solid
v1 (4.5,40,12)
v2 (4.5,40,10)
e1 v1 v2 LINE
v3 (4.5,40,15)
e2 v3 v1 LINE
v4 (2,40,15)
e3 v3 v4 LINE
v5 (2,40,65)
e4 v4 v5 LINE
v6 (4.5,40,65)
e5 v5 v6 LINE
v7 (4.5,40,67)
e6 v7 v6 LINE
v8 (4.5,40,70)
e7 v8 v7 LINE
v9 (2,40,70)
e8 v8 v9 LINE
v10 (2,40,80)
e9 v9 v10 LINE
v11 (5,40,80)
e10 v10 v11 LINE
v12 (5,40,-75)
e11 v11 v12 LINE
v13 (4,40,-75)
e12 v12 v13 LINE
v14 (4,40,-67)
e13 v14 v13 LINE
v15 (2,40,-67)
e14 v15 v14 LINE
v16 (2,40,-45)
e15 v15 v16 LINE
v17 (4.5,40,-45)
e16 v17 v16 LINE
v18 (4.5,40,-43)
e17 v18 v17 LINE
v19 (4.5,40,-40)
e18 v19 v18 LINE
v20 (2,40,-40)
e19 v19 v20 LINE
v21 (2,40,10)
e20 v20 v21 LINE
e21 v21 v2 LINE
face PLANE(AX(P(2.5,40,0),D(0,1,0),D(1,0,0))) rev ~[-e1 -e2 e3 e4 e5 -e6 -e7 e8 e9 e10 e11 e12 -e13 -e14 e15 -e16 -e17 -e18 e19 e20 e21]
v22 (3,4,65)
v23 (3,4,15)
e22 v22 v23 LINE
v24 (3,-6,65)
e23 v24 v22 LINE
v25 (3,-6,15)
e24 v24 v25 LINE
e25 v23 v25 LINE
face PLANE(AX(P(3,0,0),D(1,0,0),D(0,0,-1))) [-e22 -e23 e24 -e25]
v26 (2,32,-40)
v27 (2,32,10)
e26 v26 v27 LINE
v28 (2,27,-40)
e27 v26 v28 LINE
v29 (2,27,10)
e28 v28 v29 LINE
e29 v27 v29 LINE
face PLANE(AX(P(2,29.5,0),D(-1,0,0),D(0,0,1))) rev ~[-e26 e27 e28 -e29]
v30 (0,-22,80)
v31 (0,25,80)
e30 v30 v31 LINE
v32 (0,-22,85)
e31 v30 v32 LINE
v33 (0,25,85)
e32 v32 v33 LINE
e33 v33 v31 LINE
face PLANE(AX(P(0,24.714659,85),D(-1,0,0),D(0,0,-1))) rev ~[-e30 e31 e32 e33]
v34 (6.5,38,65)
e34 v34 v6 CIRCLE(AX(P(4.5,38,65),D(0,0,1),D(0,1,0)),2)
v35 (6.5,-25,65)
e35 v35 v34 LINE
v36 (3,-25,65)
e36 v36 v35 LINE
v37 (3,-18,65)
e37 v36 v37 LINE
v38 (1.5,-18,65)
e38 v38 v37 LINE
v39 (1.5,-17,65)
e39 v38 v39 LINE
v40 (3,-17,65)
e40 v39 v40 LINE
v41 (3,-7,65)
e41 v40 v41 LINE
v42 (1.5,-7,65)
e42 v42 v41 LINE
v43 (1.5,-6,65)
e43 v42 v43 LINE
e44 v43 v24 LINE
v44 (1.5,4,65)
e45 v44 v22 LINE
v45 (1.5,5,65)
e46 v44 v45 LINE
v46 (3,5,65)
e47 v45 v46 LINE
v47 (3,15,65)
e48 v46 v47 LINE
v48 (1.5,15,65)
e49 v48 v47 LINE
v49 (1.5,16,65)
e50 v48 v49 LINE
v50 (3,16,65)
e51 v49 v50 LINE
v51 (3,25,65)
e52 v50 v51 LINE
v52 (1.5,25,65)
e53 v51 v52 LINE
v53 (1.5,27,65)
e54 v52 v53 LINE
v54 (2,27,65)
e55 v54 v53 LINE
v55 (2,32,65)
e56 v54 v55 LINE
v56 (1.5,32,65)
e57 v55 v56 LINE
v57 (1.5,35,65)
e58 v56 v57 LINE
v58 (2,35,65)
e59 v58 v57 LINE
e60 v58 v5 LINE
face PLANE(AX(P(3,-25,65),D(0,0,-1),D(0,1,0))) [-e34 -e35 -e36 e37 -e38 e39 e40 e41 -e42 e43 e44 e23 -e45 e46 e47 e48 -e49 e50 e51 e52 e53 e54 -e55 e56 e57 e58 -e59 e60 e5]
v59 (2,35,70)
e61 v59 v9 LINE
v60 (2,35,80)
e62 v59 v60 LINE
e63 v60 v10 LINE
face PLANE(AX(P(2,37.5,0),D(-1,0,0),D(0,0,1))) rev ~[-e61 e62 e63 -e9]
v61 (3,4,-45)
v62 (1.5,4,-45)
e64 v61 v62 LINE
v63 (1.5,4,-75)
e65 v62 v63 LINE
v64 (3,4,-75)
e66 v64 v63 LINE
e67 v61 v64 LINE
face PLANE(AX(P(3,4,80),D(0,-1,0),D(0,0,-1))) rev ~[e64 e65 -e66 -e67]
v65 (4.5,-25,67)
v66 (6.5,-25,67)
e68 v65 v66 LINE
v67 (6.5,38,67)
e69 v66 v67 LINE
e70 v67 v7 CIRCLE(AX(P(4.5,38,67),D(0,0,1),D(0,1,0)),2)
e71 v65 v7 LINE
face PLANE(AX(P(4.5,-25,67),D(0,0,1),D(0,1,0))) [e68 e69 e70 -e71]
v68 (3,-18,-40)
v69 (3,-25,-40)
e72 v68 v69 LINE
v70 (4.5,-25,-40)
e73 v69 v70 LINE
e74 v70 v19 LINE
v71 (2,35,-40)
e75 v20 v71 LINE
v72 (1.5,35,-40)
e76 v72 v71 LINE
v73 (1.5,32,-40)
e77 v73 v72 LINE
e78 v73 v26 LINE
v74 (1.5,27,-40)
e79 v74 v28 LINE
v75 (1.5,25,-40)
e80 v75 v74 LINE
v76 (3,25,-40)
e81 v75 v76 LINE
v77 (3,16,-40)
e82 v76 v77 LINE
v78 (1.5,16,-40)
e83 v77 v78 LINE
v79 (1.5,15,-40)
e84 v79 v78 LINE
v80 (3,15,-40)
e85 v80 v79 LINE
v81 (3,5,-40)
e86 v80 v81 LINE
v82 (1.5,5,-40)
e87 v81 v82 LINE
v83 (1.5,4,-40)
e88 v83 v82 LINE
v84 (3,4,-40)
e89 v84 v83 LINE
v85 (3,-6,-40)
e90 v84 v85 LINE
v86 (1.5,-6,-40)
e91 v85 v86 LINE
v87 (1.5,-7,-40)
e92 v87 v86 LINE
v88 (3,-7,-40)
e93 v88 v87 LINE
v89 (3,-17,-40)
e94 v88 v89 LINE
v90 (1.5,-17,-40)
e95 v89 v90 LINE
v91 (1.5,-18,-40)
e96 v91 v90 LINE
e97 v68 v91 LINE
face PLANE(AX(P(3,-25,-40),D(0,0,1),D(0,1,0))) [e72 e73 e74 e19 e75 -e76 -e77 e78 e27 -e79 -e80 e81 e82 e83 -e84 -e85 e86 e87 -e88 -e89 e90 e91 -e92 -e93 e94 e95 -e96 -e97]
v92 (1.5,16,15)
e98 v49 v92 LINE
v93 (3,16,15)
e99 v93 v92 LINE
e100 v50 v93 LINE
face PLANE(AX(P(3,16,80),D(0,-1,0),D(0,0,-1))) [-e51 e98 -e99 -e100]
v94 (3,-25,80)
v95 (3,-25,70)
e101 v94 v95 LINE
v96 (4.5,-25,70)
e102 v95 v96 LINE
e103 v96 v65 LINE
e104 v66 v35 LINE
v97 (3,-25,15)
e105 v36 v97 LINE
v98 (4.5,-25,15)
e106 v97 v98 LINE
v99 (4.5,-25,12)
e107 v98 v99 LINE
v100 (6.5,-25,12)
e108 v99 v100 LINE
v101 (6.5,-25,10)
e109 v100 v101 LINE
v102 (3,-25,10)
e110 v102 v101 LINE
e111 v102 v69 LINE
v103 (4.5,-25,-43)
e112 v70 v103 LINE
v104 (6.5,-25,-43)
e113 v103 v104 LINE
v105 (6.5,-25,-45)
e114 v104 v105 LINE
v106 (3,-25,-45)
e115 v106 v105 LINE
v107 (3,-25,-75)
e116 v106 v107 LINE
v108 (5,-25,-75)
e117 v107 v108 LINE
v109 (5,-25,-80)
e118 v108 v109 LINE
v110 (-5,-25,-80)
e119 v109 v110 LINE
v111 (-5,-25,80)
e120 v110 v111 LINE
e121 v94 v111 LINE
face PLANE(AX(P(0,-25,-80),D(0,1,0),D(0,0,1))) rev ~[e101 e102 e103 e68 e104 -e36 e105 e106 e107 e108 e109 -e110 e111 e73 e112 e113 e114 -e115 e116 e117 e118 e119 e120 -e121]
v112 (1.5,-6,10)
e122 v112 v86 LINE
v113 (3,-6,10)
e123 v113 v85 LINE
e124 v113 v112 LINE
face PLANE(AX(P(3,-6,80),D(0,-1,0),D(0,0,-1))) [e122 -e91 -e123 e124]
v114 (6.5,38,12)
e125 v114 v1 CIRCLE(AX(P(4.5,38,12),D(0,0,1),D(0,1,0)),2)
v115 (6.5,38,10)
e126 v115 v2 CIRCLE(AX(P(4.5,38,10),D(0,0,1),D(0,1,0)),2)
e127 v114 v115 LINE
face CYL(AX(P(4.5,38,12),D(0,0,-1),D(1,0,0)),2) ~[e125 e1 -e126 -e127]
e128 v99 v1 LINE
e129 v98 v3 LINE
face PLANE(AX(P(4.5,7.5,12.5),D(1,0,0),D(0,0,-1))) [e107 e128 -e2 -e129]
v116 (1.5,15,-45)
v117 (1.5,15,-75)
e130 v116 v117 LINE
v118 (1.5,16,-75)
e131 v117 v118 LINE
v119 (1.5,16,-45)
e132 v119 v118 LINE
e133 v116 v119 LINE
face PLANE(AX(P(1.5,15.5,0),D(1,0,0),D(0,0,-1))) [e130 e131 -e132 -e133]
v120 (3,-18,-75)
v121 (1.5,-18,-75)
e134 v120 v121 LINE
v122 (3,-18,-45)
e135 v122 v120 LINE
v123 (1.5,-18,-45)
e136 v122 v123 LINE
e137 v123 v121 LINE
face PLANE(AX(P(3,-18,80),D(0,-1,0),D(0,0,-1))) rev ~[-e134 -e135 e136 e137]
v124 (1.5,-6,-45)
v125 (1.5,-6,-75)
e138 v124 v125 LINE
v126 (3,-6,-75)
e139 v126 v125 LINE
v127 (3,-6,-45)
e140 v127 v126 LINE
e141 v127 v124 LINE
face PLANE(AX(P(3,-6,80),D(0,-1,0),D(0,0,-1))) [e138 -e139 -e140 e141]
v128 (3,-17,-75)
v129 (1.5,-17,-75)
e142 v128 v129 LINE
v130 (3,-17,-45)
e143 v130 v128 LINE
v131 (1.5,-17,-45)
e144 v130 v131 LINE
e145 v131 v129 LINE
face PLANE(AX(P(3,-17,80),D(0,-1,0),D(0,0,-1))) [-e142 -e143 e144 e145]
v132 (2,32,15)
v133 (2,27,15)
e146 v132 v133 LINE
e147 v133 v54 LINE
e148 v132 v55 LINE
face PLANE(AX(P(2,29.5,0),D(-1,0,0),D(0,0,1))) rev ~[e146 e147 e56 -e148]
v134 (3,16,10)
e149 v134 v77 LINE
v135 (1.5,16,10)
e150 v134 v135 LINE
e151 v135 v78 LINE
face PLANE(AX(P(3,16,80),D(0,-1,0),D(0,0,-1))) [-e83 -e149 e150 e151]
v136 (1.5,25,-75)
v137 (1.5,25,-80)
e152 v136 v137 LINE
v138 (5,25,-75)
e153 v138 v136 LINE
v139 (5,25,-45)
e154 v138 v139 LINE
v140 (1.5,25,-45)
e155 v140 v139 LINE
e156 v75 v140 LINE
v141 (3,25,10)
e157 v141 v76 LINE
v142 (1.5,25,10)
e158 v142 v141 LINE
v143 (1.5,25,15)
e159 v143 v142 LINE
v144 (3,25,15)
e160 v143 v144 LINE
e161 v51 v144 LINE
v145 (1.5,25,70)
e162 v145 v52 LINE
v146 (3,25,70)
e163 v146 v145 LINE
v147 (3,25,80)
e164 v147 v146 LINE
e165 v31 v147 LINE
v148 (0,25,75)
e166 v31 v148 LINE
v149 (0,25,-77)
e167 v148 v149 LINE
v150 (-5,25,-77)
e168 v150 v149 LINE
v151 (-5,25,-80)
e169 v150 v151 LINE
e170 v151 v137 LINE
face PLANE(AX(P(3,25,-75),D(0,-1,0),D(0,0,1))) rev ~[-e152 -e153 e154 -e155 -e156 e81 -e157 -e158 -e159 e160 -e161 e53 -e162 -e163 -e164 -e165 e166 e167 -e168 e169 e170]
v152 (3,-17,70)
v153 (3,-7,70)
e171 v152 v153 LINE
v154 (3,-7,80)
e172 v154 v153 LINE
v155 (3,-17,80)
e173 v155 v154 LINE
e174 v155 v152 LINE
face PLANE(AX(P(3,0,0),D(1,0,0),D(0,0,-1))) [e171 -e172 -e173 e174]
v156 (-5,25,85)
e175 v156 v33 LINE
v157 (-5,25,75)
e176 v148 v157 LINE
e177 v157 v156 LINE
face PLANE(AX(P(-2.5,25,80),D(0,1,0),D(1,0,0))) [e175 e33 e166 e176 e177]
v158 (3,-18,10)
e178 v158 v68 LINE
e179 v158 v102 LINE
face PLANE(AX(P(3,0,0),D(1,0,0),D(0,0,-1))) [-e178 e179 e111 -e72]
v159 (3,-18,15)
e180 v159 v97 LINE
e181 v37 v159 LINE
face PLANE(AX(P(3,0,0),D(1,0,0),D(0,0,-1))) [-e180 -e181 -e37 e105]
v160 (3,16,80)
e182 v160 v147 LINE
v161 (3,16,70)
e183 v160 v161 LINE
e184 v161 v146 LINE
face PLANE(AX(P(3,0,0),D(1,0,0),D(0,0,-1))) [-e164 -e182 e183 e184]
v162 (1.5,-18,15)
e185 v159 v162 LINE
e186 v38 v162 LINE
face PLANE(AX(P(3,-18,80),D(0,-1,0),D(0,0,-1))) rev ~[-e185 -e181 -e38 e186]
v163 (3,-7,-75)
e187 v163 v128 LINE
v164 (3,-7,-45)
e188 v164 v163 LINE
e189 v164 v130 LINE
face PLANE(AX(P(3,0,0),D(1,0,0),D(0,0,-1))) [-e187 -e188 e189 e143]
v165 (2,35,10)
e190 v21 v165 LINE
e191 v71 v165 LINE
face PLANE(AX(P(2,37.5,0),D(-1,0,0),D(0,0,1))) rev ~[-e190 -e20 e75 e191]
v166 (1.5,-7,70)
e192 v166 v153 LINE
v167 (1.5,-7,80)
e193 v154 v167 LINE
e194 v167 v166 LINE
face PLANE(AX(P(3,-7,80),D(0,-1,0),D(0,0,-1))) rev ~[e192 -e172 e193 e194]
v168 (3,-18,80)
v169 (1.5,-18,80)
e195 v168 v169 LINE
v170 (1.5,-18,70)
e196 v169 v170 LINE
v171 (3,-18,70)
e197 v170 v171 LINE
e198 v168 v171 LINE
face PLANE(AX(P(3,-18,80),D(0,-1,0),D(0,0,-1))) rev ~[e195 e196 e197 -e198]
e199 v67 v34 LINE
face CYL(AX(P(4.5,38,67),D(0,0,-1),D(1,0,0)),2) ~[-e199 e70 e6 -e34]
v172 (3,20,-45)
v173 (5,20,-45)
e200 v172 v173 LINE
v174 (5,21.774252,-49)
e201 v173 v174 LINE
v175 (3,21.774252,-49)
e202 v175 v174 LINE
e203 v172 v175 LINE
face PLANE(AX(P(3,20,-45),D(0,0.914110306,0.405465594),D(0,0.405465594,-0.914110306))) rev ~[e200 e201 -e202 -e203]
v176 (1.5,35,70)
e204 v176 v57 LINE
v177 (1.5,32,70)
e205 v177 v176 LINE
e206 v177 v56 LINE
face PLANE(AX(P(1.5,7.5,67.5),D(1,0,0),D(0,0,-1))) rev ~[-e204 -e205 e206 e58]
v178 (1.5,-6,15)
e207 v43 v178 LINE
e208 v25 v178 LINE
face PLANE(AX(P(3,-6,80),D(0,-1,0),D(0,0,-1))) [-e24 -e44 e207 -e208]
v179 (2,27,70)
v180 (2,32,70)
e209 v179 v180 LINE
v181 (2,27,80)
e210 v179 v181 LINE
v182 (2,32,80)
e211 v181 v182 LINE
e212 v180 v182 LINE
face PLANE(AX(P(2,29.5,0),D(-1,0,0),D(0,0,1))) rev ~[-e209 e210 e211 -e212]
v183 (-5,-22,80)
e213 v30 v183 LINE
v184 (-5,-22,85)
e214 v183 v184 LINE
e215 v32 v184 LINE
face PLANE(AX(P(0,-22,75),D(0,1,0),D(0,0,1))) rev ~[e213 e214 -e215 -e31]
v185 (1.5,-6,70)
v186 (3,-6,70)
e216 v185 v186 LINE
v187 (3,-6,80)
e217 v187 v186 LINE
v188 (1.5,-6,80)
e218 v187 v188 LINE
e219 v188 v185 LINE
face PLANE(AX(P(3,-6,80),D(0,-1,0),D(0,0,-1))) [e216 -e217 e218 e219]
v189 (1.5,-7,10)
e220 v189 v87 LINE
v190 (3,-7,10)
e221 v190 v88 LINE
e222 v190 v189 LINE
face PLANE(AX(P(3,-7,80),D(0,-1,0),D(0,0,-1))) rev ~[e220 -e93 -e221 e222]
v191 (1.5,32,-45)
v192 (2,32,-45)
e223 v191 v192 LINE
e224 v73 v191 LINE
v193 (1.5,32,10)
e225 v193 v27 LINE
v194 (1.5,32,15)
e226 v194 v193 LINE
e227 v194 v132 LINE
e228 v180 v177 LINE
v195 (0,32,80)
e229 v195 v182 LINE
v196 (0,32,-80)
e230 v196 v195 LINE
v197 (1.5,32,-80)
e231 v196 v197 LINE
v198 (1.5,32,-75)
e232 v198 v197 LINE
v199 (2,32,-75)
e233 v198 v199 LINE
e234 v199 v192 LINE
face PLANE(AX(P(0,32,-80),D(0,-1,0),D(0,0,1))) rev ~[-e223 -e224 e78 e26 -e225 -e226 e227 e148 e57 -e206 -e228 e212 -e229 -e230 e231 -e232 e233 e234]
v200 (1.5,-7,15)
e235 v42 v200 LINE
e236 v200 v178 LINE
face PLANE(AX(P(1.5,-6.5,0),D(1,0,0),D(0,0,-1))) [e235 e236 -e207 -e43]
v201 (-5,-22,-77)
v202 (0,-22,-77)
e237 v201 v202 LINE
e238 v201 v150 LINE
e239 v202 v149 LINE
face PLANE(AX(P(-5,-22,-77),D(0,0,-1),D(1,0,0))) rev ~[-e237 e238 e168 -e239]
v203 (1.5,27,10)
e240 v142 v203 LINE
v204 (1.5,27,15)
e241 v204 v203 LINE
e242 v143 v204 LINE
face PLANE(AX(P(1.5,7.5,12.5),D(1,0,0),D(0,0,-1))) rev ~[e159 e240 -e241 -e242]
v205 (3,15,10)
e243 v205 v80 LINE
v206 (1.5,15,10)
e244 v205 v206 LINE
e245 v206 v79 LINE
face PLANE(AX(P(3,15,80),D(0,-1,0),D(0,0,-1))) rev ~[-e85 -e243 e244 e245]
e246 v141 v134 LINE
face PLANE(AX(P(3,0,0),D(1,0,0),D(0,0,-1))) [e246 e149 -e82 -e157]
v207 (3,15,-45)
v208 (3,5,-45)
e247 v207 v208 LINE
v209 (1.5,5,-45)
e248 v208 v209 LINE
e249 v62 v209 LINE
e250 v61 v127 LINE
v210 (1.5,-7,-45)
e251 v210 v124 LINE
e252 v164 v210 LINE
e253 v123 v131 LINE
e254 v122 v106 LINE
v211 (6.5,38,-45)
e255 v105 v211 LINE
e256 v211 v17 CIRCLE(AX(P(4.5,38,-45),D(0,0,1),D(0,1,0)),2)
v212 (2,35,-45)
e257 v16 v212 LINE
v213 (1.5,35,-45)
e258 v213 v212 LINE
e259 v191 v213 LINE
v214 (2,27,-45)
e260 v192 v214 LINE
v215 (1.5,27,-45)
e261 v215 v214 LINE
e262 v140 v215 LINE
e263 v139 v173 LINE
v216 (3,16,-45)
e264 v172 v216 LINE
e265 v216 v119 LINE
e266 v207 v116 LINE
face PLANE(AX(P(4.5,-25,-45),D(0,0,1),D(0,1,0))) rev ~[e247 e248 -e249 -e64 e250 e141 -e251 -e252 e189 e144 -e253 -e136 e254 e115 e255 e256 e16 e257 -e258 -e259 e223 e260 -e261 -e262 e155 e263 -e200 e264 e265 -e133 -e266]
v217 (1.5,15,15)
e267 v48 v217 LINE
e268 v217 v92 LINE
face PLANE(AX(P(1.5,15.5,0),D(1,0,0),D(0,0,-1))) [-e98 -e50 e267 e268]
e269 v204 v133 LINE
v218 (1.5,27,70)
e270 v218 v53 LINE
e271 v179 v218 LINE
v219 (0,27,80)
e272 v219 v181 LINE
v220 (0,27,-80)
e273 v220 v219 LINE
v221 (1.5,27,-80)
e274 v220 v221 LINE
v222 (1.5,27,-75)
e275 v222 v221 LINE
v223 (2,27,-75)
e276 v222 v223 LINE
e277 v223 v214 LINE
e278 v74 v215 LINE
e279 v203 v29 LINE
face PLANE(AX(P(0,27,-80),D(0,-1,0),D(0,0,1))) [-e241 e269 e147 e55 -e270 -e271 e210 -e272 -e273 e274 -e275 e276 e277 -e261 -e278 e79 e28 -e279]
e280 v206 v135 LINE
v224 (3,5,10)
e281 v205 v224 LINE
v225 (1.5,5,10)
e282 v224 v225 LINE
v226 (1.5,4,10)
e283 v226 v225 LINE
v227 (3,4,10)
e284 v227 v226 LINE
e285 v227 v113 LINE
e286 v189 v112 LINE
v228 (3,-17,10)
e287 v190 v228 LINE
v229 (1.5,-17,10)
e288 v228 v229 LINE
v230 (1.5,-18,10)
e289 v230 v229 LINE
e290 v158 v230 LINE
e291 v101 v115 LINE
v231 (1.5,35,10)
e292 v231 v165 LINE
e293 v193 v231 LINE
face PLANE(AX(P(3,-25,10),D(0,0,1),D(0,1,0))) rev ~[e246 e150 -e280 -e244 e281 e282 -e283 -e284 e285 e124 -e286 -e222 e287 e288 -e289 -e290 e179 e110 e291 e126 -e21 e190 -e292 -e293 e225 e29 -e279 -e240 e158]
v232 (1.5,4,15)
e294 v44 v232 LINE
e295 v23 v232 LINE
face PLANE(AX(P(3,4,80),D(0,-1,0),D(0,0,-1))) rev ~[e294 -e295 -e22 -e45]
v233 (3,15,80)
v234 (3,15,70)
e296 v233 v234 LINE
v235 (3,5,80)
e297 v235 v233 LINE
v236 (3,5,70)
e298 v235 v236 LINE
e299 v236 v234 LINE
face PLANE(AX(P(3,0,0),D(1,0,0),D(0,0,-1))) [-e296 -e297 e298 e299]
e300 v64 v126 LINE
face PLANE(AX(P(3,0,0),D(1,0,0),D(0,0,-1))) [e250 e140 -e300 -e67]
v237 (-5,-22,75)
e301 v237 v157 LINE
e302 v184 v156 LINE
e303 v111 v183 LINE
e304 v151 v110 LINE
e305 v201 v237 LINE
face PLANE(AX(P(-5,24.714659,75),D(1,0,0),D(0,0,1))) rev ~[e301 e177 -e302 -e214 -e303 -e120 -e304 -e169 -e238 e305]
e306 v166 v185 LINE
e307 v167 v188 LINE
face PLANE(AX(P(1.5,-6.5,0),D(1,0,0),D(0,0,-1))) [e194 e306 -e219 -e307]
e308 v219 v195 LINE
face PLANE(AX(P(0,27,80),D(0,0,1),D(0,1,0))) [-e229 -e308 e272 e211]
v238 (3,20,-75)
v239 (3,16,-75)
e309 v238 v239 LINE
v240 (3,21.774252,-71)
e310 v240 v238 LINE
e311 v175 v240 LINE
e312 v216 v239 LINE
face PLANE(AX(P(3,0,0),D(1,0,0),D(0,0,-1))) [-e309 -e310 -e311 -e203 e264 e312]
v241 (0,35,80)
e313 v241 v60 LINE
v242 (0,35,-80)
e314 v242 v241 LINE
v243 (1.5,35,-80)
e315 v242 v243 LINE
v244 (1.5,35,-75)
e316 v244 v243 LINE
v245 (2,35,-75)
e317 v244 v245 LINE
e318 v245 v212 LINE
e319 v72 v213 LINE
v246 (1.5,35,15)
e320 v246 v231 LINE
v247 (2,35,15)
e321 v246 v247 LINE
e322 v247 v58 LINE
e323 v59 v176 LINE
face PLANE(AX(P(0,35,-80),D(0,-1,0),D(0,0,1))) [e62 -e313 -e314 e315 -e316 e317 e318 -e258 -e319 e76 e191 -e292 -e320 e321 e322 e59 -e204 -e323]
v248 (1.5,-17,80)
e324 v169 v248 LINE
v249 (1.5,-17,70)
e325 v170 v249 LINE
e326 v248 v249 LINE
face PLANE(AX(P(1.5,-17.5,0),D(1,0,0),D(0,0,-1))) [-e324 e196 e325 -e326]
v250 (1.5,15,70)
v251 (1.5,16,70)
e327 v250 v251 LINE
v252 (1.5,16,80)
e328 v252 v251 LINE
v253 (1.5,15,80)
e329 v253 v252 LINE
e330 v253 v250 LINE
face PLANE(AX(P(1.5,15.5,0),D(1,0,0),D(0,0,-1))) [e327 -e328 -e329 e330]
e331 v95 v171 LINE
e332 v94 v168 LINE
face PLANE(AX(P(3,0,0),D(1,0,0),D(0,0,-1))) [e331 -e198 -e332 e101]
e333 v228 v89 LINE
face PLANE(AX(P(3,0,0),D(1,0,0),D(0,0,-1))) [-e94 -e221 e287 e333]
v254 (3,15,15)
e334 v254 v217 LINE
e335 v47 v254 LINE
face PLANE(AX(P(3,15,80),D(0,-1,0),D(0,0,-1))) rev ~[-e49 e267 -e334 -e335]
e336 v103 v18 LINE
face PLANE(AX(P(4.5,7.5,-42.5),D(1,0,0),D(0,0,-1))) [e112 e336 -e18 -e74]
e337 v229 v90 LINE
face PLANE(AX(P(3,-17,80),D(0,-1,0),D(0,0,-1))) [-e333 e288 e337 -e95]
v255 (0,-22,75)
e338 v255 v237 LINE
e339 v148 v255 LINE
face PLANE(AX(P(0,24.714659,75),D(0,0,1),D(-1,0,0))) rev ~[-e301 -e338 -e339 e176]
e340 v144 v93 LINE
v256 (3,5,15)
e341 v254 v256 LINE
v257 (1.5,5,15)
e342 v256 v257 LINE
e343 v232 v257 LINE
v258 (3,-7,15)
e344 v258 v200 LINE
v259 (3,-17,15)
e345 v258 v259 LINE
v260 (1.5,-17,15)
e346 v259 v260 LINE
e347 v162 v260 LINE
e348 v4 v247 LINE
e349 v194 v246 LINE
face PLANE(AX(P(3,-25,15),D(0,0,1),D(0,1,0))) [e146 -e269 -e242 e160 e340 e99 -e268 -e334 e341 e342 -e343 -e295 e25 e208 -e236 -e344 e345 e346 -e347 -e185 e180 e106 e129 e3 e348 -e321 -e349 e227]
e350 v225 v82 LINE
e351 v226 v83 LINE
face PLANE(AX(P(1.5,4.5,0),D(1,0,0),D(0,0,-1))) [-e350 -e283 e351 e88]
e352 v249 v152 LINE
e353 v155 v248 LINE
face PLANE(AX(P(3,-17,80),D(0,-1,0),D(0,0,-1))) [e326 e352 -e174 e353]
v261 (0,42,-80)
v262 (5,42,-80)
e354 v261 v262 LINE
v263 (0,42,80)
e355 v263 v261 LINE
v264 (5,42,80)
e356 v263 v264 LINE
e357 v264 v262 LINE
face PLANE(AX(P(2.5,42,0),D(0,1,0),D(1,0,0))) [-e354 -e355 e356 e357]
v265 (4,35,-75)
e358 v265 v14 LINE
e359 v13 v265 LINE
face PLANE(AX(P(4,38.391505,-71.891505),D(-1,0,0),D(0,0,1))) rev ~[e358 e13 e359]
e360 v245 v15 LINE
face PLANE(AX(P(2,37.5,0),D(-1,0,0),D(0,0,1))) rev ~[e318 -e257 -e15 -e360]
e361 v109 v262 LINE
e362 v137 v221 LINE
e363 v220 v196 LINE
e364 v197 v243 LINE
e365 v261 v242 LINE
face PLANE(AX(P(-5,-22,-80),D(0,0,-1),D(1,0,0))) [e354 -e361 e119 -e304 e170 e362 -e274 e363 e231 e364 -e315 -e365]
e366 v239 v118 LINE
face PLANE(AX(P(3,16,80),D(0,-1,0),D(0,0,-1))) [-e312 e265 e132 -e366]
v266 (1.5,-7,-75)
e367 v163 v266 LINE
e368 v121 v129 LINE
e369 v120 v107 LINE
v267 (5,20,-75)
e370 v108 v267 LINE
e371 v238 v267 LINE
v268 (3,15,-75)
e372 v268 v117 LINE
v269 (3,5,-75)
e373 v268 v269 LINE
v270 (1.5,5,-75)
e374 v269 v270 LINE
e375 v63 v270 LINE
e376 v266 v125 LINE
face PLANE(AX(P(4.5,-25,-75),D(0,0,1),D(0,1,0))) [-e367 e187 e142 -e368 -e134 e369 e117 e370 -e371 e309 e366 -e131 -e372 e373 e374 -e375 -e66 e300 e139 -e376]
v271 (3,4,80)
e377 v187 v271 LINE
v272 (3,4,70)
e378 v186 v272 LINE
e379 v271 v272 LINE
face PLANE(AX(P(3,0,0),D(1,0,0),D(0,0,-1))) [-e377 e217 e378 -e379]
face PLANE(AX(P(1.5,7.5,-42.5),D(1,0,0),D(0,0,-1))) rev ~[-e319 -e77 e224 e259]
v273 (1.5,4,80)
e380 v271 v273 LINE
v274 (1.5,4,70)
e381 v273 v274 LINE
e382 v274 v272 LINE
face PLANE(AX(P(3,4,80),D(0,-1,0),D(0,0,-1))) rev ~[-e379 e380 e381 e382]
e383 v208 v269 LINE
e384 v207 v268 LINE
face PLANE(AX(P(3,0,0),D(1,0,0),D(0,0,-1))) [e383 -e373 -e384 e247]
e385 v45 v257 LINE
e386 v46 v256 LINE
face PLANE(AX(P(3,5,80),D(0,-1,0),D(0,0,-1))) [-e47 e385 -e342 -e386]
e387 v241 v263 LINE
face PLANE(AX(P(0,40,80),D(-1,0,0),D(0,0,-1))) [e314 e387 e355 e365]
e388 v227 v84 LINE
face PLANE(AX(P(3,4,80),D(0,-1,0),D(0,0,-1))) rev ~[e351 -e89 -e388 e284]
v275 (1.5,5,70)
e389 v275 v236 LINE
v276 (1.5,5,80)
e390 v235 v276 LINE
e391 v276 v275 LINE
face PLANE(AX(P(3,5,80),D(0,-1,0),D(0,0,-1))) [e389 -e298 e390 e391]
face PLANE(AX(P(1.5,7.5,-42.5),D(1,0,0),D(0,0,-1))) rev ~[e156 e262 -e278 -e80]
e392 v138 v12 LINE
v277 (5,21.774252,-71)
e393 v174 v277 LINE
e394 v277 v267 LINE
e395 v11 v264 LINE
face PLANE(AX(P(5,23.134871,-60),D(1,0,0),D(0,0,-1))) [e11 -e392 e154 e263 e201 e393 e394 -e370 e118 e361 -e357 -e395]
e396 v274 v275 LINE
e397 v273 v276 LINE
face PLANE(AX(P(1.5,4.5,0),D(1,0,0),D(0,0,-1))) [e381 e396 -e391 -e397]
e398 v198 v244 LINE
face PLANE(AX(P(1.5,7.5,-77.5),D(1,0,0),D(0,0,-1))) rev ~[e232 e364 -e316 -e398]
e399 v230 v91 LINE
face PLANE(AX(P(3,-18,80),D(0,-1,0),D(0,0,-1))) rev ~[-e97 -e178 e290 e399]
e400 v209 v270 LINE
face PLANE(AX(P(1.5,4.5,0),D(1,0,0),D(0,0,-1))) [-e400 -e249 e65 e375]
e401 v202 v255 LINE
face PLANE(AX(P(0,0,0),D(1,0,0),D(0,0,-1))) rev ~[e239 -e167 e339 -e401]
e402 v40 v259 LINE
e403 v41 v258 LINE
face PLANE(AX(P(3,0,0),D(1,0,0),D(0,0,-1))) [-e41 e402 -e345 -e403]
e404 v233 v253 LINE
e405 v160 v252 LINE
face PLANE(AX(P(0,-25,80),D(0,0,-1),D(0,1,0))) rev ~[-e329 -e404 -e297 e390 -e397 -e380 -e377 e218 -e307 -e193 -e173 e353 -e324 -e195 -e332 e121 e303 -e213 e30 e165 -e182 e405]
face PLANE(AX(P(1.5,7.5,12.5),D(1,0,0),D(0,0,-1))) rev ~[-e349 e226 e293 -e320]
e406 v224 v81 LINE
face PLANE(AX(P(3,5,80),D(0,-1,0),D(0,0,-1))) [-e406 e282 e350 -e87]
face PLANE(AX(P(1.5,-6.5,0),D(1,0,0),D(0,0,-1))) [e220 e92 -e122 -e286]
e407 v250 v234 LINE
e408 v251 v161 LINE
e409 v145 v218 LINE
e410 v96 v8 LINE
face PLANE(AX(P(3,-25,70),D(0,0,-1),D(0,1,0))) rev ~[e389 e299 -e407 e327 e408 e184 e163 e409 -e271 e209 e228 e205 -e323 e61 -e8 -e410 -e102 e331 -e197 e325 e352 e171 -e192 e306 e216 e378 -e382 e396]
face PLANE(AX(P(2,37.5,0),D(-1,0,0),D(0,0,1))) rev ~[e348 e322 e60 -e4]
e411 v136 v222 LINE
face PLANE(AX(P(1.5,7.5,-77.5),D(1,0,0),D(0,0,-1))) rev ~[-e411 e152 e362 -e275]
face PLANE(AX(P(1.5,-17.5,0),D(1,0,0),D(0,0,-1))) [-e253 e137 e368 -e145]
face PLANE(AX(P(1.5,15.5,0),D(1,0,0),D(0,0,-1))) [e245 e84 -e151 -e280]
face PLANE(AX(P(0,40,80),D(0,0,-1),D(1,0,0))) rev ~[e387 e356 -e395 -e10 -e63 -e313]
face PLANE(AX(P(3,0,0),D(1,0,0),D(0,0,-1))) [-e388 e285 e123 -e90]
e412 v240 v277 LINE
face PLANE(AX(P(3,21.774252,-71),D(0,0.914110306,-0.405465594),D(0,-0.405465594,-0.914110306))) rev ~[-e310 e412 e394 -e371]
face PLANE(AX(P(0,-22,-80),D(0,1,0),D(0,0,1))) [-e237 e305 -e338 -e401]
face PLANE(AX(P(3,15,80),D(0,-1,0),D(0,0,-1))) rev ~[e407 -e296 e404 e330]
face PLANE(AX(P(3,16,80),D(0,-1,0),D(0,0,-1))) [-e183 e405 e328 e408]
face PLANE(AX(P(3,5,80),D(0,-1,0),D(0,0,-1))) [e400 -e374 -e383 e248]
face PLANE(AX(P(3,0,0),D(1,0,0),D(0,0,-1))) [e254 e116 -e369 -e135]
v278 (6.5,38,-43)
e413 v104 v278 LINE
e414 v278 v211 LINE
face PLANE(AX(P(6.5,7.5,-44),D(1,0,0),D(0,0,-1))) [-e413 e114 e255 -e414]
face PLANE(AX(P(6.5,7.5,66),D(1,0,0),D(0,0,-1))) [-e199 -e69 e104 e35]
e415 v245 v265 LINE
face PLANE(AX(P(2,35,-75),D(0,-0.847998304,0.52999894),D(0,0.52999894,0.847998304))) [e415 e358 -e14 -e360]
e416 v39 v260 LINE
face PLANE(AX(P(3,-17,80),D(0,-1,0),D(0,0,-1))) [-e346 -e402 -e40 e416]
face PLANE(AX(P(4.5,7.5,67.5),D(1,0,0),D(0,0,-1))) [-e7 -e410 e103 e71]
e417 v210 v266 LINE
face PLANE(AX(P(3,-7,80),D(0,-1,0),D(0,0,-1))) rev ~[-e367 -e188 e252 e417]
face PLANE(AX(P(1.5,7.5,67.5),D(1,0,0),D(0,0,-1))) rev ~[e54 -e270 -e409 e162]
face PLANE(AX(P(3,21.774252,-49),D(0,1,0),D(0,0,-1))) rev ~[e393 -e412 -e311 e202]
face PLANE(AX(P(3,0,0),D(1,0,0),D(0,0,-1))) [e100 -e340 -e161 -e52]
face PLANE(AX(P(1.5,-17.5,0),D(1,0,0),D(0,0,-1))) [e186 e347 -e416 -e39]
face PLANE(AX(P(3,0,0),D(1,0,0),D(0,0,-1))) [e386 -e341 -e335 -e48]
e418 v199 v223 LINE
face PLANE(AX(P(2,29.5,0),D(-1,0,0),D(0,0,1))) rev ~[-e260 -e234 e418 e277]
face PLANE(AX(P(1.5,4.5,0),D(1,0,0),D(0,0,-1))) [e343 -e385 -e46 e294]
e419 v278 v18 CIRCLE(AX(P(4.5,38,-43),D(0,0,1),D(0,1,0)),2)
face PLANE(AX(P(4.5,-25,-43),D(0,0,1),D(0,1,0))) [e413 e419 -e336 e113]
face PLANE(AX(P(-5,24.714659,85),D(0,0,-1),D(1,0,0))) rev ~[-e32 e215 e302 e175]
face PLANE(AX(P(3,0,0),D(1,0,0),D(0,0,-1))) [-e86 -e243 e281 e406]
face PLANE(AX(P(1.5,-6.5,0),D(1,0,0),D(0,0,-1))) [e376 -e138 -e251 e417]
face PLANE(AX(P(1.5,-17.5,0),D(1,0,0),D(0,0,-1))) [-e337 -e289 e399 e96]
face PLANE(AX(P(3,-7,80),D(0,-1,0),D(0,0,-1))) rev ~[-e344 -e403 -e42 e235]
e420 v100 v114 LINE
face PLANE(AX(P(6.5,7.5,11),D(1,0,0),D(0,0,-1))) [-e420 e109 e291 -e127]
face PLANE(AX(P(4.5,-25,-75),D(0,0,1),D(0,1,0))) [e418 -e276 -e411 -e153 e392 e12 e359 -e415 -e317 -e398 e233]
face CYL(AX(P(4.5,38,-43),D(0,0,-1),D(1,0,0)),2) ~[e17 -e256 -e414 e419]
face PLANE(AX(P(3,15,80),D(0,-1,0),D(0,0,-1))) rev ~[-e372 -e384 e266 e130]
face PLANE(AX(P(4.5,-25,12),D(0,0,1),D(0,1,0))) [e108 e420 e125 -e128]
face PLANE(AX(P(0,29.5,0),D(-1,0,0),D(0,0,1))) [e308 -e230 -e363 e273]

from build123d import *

# Parameters (mm, degrees)
SKETCH1_W            = 160
SKETCH1_H            = 50
BOSS_EXTRUDE1_DEPTH  = 3
SKETCH2_W            = 160
SKETCH2_H            = 1
CUT_EXTRUDE1_DEPTH   = 1.5
SKETCH3_W            = 5
SKETCH3_H            = 65
BOSS_EXTRUDE2_DEPTH  = 1.5
SKETCH4_W            = 2
SKETCH4_H            = 65
BOSS_EXTRUDE3_DEPTH  = 2
FILLET1_R            = 2
SKETCH5_W            = 160
SKETCH5_H            = 5
BOSS_EXTRUDE4_DEPTH  = 2
SKETCH6_W            = 5
SKETCH6_H            = 160
BOSS_EXTRUDE5_DEPTH  = 2
SKETCH9_W            = 5
SKETCH9_H            = 65
BOSS_EXTRUDE8_DEPTH  = 0.5
SKETCH10_W           = 160
SKETCH10_H           = 3
BOSS_EXTRUDE9_DEPTH  = 5
SKETCH11_W           = 5
SKETCH11_H           = 3
BOSS_EXTRUDE10_DEPTH = 47
SKETCH13_W           = 10
SKETCH13_H           = 46.714659276
BOSS_EXTRUDE11_DEPTH = 5
BOSS_EXTRUDE12_DEPTH = 2
BOSS_EXTRUDE13_DEPTH = 2
BOSS_EXTRUDE14_DEPTH = 0.285341


with BuildPart() as part:
    # Sketch1 → Boss-Extrude1 (new body)
    with BuildSketch(Plane(origin=(0, 0, 0), x_dir=(0, 0, -1), z_dir=(1, 0, 0))):
        Rectangle(SKETCH1_W, SKETCH1_H)
    extrude(amount=BOSS_EXTRUDE1_DEPTH)

    # Sketch2 → Cut-Extrude1 (cut)
    with BuildSketch(Plane(origin=(3, 0, 0), x_dir=(0, 0, -1), z_dir=(1, 0, 0))):
        with Locations((0, -17.5)):
            Rectangle(SKETCH2_W, SKETCH2_H)
        with Locations((0, -6.5)):
            Rectangle(SKETCH2_W, SKETCH2_H)
        with Locations((0, 4.5)):
            Rectangle(SKETCH2_W, SKETCH2_H)
        with Locations((0, 15.5)):
            Rectangle(SKETCH2_W, SKETCH2_H)
    extrude(amount=-CUT_EXTRUDE1_DEPTH, mode=Mode.SUBTRACT)

    # Sketch3 → Boss-Extrude2 (add, symmetric)
    with BuildSketch(Plane(origin=(3, 0, 0), x_dir=(0, 0, -1), z_dir=(1, 0, 0))):
        with Locations((77.5, 7.5)):
            Rectangle(SKETCH3_W, SKETCH3_H)
        with Locations((42.5, 7.5)):
            Rectangle(SKETCH3_W, SKETCH3_H)
        with Locations((-12.5, 7.5)):
            Rectangle(SKETCH3_W, SKETCH3_H)
        with Locations((-67.5, 7.5)):
            Rectangle(SKETCH3_W, SKETCH3_H)
    extrude(amount=BOSS_EXTRUDE2_DEPTH, both=True)

    # Sketch4 → Boss-Extrude3 (add)
    with BuildSketch(Plane(origin=(4.5, 0, 0), x_dir=(0, 0, -1), z_dir=(1, 0, 0))):
        with Locations((44, 7.5)):
            Rectangle(SKETCH4_W, SKETCH4_H)
        with Locations((-11, 7.5)):
            Rectangle(SKETCH4_W, SKETCH4_H)
        with Locations((-66, 7.5)):
            Rectangle(SKETCH4_W, SKETCH4_H)
    extrude(amount=BOSS_EXTRUDE3_DEPTH)

    # Fillet1
    fillet1_edges = [part.edges().sort_by_distance(p)[0] for p in [
        (6.5, 40, -44),
        (6.5, 40, 11),
        (6.5, 40, 66),
    ]]
    fillet(fillet1_edges, radius=FILLET1_R)

    # Sketch5 → Boss-Extrude4 (add)
    with BuildSketch(Plane.ZY):
        with Locations((0, 29.5)):
            Rectangle(SKETCH5_W, SKETCH5_H)
        with Locations((0, 37.5)):
            Rectangle(SKETCH5_W, SKETCH5_H)
    extrude(amount=-BOSS_EXTRUDE4_DEPTH)

    # Sketch6 → Boss-Extrude5 (add)
    with BuildSketch(Plane(origin=(0, 40, 0), x_dir=(1, 0, 0), z_dir=(0, 1, 0))):
        with Locations((2.5, 0)):
            Rectangle(SKETCH6_W, SKETCH6_H)
    extrude(amount=BOSS_EXTRUDE5_DEPTH)

    # Sketch9 → Boss-Extrude8 (add)
    with BuildSketch(Plane(origin=(4.5, 0, 0), x_dir=(0, 0, -1), z_dir=(1, 0, 0))):
        with Locations((77.5, 7.5)):
            Rectangle(SKETCH9_W, SKETCH9_H)
    extrude(amount=BOSS_EXTRUDE8_DEPTH)

    # Sketch10 → Boss-Extrude9 (add)
    with BuildSketch(Plane.ZY):
        with Locations((0, -23.5)):
            Rectangle(SKETCH10_W, SKETCH10_H)
    extrude(amount=BOSS_EXTRUDE9_DEPTH)

    # Sketch11 → Boss-Extrude10 (add)
    with BuildSketch(Plane(origin=(0, -22, 0), x_dir=(1, 0, 0), z_dir=(0, 1, 0))):
        with Locations((-2.5, 78.5)):
            Rectangle(SKETCH11_W, SKETCH11_H)
    extrude(amount=BOSS_EXTRUDE10_DEPTH)

    # Sketch13 → Boss-Extrude11 (add)
    with BuildSketch(Plane.ZY):
        with Locations((80, 1.357329638)):
            Rectangle(SKETCH13_W, SKETCH13_H)
    extrude(amount=BOSS_EXTRUDE11_DEPTH)

    # Sketch14 → Boss-Extrude12 (add)
    with BuildSketch(Plane(origin=(2, 0, 0), x_dir=(0, 0, -1), z_dir=(1, 0, 0))):
        Polygon((75, 40), (75, 35), (67, 40), align=None)
    extrude(amount=BOSS_EXTRUDE12_DEPTH)

    # Sketch15 → Boss-Extrude13 (add)
    with BuildSketch(Plane(origin=(3, 0, 0), x_dir=(0, 0, -1), z_dir=(1, 0, 0))):
        Polygon((75, 25), (45, 25), (45, 20), (49, 21.77425237), (71, 21.77425237), (75, 20), align=None)
    extrude(amount=BOSS_EXTRUDE13_DEPTH)

    # Sketch16 → Boss-Extrude14 (add)
    with BuildSketch(Plane(origin=(0, 24.714659276, 0), x_dir=(1, 0, 0), z_dir=(0, 1, 0))):
        Polygon((0, -75), (-5, -75), (-5, -85), (0, -85), (0, -80), align=None)
    extrude(amount=BOSS_EXTRUDE14_DEPTH)


solid = part.part
